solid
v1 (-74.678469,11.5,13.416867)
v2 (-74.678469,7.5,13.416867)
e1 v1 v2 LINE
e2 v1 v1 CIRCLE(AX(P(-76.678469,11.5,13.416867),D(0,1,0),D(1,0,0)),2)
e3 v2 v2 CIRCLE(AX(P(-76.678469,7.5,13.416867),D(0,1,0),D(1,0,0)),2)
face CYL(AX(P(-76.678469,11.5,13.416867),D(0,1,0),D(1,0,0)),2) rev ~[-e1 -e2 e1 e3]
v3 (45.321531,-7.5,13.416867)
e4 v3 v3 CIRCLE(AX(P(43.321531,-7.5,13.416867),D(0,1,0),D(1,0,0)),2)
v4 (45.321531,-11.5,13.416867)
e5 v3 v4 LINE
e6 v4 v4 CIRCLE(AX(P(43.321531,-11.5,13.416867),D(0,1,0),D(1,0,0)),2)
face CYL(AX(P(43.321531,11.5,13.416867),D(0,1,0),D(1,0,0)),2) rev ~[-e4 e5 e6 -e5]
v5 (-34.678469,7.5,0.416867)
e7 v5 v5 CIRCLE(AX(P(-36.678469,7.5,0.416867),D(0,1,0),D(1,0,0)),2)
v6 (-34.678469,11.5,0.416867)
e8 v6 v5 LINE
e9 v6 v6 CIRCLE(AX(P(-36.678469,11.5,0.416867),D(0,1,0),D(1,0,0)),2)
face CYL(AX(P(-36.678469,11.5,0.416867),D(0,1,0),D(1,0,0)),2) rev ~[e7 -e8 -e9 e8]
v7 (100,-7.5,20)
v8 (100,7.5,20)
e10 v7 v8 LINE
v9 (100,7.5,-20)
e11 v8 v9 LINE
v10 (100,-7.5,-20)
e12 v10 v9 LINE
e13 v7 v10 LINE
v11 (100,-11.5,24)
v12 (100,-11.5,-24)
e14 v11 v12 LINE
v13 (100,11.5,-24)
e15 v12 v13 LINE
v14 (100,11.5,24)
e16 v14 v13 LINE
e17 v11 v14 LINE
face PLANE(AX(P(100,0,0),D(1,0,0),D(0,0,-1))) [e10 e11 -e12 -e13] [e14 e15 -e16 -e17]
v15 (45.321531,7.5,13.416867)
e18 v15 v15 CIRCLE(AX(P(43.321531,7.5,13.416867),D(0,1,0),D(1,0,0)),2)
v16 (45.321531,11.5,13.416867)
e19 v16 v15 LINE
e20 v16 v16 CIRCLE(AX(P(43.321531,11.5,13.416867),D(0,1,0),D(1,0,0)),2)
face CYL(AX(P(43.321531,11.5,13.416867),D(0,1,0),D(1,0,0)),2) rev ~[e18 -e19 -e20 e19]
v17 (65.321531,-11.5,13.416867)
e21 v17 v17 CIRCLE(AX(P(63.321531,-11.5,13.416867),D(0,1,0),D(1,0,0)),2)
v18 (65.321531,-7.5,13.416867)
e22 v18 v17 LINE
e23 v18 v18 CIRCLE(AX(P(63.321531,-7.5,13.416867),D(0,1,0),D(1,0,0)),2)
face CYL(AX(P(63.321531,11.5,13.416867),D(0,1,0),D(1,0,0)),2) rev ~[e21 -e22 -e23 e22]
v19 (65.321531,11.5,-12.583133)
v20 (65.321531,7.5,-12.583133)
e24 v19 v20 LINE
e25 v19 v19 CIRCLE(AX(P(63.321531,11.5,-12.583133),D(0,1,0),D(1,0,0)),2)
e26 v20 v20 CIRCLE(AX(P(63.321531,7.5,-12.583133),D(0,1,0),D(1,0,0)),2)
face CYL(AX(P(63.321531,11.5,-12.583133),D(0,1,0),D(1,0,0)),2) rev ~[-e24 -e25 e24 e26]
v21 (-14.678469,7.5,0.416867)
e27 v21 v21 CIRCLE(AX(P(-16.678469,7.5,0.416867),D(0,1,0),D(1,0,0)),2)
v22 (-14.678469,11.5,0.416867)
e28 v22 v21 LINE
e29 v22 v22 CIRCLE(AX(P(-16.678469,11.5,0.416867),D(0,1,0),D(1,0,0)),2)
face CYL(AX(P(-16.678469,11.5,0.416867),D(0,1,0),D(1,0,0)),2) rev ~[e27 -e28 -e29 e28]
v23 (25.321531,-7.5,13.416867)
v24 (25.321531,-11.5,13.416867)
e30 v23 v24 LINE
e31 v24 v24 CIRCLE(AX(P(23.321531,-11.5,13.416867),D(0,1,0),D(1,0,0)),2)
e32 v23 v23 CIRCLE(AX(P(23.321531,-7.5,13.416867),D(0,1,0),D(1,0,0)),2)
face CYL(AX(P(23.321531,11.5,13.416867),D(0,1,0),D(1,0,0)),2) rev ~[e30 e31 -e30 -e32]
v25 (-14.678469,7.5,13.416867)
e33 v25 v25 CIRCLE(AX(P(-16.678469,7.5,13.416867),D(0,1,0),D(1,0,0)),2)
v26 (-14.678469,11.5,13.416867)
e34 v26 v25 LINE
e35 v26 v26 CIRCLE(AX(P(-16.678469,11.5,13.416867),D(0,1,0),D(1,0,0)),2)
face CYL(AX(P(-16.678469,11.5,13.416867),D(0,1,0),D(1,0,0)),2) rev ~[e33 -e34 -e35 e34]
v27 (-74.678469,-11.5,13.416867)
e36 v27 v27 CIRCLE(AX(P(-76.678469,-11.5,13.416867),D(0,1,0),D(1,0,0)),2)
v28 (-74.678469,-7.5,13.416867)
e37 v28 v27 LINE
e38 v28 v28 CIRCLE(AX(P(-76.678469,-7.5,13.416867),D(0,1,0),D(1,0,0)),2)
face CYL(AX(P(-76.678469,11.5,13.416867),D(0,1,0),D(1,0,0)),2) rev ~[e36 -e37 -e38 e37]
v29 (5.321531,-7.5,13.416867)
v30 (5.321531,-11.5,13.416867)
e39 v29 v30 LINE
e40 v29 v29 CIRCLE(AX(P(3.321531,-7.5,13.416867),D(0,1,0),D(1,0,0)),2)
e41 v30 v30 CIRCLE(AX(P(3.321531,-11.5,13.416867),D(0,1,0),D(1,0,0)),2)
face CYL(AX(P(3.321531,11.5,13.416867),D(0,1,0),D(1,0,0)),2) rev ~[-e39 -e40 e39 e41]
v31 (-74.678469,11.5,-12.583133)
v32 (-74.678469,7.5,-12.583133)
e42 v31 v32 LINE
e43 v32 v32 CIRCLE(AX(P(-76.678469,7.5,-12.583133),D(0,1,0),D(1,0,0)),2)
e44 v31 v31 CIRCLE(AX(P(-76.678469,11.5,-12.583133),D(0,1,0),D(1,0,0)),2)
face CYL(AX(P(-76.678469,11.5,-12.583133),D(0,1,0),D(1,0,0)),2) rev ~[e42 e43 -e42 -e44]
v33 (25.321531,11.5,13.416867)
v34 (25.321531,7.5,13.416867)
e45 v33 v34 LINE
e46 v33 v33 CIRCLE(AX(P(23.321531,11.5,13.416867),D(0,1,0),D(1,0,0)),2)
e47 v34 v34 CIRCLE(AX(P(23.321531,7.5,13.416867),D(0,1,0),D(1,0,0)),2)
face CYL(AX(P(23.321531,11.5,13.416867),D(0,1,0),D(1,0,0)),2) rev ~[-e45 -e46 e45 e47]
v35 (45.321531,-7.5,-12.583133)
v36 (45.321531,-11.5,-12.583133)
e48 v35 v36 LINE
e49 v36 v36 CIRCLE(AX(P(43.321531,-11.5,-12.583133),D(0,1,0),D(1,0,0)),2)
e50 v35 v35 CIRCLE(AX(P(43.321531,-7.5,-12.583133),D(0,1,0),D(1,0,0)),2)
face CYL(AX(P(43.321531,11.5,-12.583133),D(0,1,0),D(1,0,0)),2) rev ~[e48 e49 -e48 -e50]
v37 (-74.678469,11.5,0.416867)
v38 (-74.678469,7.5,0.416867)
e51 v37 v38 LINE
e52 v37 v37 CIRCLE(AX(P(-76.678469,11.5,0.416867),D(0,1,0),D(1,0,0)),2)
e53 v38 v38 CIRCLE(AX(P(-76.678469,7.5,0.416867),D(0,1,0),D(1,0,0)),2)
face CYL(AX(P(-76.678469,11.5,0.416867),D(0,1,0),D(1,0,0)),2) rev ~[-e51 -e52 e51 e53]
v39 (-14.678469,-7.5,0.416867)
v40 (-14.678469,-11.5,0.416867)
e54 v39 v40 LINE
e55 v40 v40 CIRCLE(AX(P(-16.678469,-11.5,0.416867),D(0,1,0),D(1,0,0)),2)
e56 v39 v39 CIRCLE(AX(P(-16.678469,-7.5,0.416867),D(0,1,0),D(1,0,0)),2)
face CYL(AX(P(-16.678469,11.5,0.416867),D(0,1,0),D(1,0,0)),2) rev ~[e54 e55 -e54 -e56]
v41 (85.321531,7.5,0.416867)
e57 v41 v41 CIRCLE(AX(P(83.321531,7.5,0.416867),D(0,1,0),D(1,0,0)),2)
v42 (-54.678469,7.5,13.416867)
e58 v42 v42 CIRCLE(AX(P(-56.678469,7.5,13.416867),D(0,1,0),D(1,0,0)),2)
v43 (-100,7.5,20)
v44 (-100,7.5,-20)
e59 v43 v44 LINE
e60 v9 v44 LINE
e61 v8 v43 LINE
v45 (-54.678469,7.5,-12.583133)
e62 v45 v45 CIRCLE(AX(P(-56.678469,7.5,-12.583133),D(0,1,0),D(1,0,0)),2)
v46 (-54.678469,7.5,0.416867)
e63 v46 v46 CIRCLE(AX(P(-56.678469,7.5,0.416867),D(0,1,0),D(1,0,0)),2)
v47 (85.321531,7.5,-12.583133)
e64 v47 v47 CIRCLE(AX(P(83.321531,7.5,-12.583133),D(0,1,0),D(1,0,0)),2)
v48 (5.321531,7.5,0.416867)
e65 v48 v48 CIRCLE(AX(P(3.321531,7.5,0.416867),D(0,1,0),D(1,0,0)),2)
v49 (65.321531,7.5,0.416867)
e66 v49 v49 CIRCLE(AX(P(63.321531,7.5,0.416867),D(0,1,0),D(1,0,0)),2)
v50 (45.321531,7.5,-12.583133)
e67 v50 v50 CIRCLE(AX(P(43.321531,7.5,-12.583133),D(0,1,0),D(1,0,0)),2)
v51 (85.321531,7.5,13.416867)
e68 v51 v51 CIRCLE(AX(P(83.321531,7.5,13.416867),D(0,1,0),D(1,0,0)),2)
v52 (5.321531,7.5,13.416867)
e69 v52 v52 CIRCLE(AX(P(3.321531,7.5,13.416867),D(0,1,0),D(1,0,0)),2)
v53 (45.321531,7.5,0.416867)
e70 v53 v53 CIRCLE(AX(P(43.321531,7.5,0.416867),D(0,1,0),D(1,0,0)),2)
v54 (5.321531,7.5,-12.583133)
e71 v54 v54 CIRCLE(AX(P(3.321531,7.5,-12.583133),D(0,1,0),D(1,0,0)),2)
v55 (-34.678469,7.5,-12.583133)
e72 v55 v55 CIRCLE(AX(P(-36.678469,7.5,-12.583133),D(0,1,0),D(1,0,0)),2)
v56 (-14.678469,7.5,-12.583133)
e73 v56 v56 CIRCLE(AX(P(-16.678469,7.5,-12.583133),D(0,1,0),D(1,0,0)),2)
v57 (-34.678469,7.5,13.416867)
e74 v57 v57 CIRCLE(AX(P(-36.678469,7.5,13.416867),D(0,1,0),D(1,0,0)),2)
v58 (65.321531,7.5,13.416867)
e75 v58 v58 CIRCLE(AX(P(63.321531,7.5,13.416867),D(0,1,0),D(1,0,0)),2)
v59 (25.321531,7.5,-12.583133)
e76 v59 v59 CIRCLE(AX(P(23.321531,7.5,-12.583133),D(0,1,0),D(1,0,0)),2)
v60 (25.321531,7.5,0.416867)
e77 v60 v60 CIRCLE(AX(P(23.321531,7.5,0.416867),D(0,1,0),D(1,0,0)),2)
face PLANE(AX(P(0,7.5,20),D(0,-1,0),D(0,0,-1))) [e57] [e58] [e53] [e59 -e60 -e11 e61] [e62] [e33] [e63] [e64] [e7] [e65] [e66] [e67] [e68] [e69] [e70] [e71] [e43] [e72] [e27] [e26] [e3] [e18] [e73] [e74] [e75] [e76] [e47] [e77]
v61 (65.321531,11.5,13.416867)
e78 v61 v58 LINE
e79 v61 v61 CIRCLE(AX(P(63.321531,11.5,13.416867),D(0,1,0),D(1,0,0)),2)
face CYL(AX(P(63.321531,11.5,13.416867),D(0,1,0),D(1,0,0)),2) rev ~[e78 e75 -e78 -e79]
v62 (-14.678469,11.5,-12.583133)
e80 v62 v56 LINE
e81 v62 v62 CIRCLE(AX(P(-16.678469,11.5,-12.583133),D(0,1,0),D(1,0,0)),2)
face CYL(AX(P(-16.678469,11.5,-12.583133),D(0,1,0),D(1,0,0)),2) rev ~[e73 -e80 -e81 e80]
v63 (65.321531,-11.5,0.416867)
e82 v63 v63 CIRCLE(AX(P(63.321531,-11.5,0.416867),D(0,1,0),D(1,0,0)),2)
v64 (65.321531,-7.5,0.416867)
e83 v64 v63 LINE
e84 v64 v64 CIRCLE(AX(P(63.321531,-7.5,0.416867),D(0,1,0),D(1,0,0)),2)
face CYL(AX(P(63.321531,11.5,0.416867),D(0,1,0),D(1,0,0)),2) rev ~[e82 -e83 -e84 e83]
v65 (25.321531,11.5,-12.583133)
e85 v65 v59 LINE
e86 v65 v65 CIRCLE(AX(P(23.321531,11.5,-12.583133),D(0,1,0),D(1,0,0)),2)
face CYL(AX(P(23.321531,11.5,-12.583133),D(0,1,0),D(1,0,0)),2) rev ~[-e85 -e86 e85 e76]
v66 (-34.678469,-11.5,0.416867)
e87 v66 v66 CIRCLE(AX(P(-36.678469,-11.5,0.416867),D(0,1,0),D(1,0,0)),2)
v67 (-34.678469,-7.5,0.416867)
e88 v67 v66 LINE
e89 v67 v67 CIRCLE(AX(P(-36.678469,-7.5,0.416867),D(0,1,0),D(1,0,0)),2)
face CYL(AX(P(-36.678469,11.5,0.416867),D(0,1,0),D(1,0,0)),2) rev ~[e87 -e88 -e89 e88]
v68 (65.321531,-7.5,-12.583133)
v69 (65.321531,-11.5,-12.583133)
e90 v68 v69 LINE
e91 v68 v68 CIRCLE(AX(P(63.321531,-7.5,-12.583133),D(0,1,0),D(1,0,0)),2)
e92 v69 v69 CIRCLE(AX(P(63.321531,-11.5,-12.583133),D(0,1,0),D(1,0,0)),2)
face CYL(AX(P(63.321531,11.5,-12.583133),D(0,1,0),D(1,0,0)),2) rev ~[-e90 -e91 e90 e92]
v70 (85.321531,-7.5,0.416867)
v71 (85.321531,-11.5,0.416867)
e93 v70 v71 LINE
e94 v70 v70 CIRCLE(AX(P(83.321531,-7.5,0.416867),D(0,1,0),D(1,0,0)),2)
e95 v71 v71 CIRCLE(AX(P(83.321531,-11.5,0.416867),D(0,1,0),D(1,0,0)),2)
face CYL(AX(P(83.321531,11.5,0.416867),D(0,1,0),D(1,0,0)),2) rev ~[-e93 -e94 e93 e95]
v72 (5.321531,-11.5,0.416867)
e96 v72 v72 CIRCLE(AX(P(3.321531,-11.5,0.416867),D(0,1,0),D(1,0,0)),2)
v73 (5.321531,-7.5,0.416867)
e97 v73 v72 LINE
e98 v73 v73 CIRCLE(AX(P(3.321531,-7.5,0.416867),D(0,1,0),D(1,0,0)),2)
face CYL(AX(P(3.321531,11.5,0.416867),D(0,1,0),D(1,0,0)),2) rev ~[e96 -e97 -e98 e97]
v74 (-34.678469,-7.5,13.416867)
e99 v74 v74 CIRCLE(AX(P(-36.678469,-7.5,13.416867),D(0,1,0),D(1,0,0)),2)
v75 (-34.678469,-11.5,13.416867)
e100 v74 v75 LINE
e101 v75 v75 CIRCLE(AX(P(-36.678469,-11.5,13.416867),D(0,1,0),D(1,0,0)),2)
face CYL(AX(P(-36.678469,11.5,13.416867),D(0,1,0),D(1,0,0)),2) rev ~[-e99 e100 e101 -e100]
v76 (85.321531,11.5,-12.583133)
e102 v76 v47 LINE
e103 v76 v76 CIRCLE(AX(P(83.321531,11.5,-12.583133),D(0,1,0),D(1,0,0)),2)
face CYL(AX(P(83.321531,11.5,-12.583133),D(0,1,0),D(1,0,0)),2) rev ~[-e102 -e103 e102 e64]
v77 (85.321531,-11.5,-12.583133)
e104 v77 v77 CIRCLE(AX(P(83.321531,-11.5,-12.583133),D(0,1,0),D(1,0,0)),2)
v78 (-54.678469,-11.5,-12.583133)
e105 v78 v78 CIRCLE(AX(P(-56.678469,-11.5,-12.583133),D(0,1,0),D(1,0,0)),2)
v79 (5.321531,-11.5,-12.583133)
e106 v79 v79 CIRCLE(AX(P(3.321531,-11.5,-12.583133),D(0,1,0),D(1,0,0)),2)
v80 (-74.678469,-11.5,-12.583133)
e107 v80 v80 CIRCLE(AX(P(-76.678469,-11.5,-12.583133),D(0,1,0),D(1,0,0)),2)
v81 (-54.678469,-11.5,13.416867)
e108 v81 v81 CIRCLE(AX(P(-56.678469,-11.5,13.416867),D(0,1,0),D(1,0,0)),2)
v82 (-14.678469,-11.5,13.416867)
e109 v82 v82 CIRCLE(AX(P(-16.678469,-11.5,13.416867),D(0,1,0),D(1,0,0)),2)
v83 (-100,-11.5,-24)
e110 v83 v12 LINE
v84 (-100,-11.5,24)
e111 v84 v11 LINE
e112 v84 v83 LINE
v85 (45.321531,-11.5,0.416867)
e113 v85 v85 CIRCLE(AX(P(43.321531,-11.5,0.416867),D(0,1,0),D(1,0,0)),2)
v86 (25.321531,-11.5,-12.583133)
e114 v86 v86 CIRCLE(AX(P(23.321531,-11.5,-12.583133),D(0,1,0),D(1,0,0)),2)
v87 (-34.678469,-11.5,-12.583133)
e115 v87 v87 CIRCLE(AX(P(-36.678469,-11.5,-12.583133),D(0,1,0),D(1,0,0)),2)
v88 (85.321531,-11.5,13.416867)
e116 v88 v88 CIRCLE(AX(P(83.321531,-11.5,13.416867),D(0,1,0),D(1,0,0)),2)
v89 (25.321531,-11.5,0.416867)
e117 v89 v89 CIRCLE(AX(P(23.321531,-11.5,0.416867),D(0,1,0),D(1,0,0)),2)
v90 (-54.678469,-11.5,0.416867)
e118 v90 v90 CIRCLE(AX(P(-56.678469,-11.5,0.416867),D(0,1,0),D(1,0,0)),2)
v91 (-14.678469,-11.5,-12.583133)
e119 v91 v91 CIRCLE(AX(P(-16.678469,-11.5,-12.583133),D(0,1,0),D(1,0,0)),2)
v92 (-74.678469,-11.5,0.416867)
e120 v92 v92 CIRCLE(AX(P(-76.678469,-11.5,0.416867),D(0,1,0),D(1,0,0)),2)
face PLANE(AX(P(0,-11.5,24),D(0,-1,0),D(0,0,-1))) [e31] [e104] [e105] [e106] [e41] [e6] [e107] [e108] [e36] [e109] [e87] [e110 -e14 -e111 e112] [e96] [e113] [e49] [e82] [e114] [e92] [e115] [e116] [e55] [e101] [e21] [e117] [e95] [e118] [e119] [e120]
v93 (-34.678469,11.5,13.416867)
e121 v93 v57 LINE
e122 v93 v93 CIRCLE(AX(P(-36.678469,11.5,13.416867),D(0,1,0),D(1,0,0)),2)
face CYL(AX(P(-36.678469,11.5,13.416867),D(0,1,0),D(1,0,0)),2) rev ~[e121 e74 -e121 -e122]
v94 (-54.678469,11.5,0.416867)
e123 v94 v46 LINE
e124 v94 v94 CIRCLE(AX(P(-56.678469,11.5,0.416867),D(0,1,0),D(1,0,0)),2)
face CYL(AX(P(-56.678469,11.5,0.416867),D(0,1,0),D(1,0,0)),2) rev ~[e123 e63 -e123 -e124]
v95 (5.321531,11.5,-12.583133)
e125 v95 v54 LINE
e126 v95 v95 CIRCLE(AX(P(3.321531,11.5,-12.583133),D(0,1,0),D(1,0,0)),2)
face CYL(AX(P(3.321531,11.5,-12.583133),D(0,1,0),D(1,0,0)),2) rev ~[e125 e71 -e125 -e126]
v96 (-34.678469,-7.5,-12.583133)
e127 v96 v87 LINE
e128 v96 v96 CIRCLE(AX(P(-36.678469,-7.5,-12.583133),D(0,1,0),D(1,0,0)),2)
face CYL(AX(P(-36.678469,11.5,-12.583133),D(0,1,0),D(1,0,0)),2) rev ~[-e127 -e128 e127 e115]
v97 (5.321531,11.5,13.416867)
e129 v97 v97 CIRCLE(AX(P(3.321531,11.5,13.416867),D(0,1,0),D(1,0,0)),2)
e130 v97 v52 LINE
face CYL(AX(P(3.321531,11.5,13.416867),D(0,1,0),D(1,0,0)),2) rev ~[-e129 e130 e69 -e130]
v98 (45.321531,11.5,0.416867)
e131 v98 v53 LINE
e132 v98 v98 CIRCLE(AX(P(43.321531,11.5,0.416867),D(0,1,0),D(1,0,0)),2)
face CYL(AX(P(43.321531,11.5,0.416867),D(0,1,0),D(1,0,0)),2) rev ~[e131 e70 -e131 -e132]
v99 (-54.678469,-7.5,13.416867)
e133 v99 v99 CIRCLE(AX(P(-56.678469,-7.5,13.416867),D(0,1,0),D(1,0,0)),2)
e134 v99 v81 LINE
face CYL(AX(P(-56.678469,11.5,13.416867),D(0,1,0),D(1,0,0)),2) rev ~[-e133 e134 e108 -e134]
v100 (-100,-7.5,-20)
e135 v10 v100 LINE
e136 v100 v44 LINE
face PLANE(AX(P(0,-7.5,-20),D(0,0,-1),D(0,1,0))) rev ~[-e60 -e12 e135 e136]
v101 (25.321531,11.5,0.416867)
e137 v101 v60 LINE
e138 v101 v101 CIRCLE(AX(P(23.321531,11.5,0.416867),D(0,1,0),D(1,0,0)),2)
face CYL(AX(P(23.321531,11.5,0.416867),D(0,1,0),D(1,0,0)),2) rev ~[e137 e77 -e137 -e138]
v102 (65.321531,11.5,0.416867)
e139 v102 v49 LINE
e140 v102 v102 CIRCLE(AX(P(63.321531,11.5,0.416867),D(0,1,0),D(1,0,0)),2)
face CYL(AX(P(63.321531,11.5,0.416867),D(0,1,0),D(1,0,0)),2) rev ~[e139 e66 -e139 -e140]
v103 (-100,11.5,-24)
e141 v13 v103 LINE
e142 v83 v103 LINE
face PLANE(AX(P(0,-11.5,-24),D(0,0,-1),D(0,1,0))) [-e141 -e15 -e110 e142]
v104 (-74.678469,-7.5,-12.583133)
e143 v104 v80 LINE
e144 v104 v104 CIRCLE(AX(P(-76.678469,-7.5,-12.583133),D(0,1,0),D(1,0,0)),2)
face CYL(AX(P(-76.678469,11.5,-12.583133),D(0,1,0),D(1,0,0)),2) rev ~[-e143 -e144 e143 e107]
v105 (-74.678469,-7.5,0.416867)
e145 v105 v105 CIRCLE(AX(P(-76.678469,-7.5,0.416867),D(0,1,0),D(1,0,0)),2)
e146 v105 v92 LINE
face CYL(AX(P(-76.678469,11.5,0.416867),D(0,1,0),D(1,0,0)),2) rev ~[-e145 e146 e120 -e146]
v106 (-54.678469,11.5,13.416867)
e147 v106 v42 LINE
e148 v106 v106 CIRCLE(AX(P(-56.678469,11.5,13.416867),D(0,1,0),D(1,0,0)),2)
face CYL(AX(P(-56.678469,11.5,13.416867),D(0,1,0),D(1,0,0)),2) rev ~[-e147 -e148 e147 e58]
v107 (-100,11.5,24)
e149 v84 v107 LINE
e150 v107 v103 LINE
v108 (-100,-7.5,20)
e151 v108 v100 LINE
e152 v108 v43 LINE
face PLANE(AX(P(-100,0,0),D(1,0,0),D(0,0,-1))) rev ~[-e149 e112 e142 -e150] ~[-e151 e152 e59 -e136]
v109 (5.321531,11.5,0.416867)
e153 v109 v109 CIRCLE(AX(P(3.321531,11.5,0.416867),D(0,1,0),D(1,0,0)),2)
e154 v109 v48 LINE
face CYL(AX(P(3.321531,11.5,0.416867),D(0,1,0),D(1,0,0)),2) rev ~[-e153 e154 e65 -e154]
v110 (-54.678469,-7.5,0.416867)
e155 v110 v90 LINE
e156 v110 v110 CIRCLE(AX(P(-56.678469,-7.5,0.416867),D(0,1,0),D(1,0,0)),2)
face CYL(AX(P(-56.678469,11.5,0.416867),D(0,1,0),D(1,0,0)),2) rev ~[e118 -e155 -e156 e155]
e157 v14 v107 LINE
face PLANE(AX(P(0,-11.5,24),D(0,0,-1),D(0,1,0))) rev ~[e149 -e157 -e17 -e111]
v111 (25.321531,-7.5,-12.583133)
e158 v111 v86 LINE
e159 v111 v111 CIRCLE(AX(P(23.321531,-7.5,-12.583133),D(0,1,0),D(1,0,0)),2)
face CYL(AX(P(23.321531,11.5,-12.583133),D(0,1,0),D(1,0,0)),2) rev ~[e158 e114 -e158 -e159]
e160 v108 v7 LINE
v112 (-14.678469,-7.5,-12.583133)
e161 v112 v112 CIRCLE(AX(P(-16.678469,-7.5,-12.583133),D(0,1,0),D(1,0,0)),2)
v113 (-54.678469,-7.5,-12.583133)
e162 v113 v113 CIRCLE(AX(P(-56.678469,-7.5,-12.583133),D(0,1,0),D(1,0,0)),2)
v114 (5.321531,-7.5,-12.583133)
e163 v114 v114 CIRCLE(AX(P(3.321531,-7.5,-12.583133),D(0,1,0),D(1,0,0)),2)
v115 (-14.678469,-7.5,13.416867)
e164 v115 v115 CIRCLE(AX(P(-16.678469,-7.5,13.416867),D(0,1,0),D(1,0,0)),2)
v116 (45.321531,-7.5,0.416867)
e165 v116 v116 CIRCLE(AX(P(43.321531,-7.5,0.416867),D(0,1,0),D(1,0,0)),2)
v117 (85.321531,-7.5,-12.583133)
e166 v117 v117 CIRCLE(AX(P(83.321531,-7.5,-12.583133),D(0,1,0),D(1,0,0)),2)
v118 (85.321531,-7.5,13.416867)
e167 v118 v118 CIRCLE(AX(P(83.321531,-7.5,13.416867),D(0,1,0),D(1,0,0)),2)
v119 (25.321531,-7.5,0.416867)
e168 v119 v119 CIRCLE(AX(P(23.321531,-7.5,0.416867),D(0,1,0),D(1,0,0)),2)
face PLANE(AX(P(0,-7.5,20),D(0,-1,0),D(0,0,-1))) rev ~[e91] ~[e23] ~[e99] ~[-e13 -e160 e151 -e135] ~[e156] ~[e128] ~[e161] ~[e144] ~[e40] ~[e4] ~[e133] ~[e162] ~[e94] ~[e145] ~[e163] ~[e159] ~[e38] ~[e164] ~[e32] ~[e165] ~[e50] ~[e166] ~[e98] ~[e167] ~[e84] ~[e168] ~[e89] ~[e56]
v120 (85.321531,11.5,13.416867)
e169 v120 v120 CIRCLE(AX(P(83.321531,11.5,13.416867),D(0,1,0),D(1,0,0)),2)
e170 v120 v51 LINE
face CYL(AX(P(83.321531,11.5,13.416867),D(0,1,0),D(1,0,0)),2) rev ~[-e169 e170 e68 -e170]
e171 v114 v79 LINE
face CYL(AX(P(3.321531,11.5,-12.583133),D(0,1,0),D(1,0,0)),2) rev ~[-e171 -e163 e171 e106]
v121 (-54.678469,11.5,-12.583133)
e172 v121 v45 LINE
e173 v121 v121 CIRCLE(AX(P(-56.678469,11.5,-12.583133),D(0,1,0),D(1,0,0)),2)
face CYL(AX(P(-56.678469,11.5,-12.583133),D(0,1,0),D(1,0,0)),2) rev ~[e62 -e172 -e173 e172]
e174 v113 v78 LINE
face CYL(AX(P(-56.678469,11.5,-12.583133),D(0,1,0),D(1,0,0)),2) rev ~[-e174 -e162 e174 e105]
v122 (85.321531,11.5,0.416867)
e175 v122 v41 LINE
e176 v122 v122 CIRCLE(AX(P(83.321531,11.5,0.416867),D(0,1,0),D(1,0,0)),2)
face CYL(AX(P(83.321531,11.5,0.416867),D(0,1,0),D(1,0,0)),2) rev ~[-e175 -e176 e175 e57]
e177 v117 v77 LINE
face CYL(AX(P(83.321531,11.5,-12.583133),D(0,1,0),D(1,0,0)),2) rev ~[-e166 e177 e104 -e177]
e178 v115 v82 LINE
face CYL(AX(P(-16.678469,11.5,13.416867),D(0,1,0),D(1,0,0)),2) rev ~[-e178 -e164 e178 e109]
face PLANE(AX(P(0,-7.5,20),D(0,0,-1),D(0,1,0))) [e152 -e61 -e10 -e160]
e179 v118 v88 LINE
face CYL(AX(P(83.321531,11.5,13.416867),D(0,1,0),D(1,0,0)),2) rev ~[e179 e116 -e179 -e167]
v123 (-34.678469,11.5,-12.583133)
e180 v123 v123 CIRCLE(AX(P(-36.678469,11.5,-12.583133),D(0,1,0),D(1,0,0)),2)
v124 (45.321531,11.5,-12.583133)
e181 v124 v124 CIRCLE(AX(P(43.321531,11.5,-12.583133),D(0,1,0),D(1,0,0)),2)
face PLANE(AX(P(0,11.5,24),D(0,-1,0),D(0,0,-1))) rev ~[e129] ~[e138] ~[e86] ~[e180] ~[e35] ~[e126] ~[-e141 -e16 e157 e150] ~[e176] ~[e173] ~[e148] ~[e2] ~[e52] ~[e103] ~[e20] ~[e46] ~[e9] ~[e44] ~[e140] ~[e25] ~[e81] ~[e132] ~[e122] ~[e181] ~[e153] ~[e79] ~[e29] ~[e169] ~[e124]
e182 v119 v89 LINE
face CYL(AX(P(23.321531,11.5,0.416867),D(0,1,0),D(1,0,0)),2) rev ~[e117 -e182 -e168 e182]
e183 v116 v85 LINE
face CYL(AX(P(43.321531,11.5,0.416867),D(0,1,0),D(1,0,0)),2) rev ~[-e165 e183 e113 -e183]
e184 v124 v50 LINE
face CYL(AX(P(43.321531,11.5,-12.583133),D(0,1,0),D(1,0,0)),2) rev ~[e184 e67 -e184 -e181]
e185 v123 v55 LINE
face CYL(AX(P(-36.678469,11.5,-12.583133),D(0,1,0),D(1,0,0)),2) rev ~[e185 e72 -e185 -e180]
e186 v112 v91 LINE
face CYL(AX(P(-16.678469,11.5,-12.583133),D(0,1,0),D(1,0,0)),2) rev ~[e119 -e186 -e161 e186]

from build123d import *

# Parameters (mm, degrees)
SKETCH1_W           = 48
SKETCH1_H           = 23
SKETCH1_W_2         = 40
SKETCH1_H_2         = 15
EXTRUDE_THIN1_DEPTH = 100
SKETCH2_R           = 2
CUT_EXTRUDE1_DEPTH  = 24


with BuildPart() as part:
    # Sketch1 → Extrude-Thin1 (new body, symmetric)
    with BuildSketch(Plane(origin=(0, 0, 0), x_dir=(0, 0, -1), z_dir=(1, 0, 0))):
        Rectangle(SKETCH1_W, SKETCH1_H)
        Rectangle(SKETCH1_W_2, SKETCH1_H_2, mode=Mode.SUBTRACT)
    extrude(amount=EXTRUDE_THIN1_DEPTH, both=True)

    # Sketch2 → Cut-Extrude1 (cut, through all)
    with BuildSketch(Plane(origin=(0, 11.5, 0), x_dir=(1, 0, 0), z_dir=(0, 1, 0))):
        with Locations((-76.678469137, 12.583133397)):
            Circle(SKETCH2_R)
        with Locations((-56.678469137, 12.583133397)):
            Circle(SKETCH2_R)
        with Locations((-36.678469137, 12.583133397)):
            Circle(SKETCH2_R)
        with Locations((-16.678469137, 12.583133397)):
            Circle(SKETCH2_R)
        with Locations((3.321530863, 12.583133397)):
            Circle(SKETCH2_R)
        with Locations((23.321530863, 12.583133397)):
            Circle(SKETCH2_R)
        with Locations((43.321530863, 12.583133397)):
            Circle(SKETCH2_R)
        with Locations((63.321530863, 12.583133397)):
            Circle(SKETCH2_R)
        with Locations((83.321530863, 12.583133397)):
            Circle(SKETCH2_R)
        with Locations((-56.678469137, -0.416866603)):
            Circle(SKETCH2_R)
        with Locations((-36.678469137, -0.416866603)):
            Circle(SKETCH2_R)
        with Locations((-16.678469137, -0.416866603)):
            Circle(SKETCH2_R)
        with Locations((3.321530863, -0.416866603)):
            Circle(SKETCH2_R)
        with Locations((23.321530863, -0.416866603)):
            Circle(SKETCH2_R)
        with Locations((43.321530863, -0.416866603)):
            Circle(SKETCH2_R)
        with Locations((63.321530863, -0.416866603)):
            Circle(SKETCH2_R)
        with Locations((83.321530863, -0.416866603)):
            Circle(SKETCH2_R)
        with Locations((-56.678469137, -13.416866603)):
            Circle(SKETCH2_R)
        with Locations((-36.678469137, -13.416866603)):
            Circle(SKETCH2_R)
        with Locations((-16.678469137, -13.416866603)):
            Circle(SKETCH2_R)
        with Locations((3.321530863, -13.416866603)):
            Circle(SKETCH2_R)
        with Locations((23.321530863, -13.416866603)):
            Circle(SKETCH2_R)
        with Locations((43.321530863, -13.416866603)):
            Circle(SKETCH2_R)
        with Locations((63.321530863, -13.416866603)):
            Circle(SKETCH2_R)
        with Locations((83.321530863, -13.416866603)):
            Circle(SKETCH2_R)
        with Locations((-76.678469137, -0.416866603)):
            Circle(SKETCH2_R)
        with Locations((-76.678469137, -13.416866603)):
            Circle(SKETCH2_R)
    extrude(amount=-CUT_EXTRUDE1_DEPTH, mode=Mode.SUBTRACT)


solid = part.part
